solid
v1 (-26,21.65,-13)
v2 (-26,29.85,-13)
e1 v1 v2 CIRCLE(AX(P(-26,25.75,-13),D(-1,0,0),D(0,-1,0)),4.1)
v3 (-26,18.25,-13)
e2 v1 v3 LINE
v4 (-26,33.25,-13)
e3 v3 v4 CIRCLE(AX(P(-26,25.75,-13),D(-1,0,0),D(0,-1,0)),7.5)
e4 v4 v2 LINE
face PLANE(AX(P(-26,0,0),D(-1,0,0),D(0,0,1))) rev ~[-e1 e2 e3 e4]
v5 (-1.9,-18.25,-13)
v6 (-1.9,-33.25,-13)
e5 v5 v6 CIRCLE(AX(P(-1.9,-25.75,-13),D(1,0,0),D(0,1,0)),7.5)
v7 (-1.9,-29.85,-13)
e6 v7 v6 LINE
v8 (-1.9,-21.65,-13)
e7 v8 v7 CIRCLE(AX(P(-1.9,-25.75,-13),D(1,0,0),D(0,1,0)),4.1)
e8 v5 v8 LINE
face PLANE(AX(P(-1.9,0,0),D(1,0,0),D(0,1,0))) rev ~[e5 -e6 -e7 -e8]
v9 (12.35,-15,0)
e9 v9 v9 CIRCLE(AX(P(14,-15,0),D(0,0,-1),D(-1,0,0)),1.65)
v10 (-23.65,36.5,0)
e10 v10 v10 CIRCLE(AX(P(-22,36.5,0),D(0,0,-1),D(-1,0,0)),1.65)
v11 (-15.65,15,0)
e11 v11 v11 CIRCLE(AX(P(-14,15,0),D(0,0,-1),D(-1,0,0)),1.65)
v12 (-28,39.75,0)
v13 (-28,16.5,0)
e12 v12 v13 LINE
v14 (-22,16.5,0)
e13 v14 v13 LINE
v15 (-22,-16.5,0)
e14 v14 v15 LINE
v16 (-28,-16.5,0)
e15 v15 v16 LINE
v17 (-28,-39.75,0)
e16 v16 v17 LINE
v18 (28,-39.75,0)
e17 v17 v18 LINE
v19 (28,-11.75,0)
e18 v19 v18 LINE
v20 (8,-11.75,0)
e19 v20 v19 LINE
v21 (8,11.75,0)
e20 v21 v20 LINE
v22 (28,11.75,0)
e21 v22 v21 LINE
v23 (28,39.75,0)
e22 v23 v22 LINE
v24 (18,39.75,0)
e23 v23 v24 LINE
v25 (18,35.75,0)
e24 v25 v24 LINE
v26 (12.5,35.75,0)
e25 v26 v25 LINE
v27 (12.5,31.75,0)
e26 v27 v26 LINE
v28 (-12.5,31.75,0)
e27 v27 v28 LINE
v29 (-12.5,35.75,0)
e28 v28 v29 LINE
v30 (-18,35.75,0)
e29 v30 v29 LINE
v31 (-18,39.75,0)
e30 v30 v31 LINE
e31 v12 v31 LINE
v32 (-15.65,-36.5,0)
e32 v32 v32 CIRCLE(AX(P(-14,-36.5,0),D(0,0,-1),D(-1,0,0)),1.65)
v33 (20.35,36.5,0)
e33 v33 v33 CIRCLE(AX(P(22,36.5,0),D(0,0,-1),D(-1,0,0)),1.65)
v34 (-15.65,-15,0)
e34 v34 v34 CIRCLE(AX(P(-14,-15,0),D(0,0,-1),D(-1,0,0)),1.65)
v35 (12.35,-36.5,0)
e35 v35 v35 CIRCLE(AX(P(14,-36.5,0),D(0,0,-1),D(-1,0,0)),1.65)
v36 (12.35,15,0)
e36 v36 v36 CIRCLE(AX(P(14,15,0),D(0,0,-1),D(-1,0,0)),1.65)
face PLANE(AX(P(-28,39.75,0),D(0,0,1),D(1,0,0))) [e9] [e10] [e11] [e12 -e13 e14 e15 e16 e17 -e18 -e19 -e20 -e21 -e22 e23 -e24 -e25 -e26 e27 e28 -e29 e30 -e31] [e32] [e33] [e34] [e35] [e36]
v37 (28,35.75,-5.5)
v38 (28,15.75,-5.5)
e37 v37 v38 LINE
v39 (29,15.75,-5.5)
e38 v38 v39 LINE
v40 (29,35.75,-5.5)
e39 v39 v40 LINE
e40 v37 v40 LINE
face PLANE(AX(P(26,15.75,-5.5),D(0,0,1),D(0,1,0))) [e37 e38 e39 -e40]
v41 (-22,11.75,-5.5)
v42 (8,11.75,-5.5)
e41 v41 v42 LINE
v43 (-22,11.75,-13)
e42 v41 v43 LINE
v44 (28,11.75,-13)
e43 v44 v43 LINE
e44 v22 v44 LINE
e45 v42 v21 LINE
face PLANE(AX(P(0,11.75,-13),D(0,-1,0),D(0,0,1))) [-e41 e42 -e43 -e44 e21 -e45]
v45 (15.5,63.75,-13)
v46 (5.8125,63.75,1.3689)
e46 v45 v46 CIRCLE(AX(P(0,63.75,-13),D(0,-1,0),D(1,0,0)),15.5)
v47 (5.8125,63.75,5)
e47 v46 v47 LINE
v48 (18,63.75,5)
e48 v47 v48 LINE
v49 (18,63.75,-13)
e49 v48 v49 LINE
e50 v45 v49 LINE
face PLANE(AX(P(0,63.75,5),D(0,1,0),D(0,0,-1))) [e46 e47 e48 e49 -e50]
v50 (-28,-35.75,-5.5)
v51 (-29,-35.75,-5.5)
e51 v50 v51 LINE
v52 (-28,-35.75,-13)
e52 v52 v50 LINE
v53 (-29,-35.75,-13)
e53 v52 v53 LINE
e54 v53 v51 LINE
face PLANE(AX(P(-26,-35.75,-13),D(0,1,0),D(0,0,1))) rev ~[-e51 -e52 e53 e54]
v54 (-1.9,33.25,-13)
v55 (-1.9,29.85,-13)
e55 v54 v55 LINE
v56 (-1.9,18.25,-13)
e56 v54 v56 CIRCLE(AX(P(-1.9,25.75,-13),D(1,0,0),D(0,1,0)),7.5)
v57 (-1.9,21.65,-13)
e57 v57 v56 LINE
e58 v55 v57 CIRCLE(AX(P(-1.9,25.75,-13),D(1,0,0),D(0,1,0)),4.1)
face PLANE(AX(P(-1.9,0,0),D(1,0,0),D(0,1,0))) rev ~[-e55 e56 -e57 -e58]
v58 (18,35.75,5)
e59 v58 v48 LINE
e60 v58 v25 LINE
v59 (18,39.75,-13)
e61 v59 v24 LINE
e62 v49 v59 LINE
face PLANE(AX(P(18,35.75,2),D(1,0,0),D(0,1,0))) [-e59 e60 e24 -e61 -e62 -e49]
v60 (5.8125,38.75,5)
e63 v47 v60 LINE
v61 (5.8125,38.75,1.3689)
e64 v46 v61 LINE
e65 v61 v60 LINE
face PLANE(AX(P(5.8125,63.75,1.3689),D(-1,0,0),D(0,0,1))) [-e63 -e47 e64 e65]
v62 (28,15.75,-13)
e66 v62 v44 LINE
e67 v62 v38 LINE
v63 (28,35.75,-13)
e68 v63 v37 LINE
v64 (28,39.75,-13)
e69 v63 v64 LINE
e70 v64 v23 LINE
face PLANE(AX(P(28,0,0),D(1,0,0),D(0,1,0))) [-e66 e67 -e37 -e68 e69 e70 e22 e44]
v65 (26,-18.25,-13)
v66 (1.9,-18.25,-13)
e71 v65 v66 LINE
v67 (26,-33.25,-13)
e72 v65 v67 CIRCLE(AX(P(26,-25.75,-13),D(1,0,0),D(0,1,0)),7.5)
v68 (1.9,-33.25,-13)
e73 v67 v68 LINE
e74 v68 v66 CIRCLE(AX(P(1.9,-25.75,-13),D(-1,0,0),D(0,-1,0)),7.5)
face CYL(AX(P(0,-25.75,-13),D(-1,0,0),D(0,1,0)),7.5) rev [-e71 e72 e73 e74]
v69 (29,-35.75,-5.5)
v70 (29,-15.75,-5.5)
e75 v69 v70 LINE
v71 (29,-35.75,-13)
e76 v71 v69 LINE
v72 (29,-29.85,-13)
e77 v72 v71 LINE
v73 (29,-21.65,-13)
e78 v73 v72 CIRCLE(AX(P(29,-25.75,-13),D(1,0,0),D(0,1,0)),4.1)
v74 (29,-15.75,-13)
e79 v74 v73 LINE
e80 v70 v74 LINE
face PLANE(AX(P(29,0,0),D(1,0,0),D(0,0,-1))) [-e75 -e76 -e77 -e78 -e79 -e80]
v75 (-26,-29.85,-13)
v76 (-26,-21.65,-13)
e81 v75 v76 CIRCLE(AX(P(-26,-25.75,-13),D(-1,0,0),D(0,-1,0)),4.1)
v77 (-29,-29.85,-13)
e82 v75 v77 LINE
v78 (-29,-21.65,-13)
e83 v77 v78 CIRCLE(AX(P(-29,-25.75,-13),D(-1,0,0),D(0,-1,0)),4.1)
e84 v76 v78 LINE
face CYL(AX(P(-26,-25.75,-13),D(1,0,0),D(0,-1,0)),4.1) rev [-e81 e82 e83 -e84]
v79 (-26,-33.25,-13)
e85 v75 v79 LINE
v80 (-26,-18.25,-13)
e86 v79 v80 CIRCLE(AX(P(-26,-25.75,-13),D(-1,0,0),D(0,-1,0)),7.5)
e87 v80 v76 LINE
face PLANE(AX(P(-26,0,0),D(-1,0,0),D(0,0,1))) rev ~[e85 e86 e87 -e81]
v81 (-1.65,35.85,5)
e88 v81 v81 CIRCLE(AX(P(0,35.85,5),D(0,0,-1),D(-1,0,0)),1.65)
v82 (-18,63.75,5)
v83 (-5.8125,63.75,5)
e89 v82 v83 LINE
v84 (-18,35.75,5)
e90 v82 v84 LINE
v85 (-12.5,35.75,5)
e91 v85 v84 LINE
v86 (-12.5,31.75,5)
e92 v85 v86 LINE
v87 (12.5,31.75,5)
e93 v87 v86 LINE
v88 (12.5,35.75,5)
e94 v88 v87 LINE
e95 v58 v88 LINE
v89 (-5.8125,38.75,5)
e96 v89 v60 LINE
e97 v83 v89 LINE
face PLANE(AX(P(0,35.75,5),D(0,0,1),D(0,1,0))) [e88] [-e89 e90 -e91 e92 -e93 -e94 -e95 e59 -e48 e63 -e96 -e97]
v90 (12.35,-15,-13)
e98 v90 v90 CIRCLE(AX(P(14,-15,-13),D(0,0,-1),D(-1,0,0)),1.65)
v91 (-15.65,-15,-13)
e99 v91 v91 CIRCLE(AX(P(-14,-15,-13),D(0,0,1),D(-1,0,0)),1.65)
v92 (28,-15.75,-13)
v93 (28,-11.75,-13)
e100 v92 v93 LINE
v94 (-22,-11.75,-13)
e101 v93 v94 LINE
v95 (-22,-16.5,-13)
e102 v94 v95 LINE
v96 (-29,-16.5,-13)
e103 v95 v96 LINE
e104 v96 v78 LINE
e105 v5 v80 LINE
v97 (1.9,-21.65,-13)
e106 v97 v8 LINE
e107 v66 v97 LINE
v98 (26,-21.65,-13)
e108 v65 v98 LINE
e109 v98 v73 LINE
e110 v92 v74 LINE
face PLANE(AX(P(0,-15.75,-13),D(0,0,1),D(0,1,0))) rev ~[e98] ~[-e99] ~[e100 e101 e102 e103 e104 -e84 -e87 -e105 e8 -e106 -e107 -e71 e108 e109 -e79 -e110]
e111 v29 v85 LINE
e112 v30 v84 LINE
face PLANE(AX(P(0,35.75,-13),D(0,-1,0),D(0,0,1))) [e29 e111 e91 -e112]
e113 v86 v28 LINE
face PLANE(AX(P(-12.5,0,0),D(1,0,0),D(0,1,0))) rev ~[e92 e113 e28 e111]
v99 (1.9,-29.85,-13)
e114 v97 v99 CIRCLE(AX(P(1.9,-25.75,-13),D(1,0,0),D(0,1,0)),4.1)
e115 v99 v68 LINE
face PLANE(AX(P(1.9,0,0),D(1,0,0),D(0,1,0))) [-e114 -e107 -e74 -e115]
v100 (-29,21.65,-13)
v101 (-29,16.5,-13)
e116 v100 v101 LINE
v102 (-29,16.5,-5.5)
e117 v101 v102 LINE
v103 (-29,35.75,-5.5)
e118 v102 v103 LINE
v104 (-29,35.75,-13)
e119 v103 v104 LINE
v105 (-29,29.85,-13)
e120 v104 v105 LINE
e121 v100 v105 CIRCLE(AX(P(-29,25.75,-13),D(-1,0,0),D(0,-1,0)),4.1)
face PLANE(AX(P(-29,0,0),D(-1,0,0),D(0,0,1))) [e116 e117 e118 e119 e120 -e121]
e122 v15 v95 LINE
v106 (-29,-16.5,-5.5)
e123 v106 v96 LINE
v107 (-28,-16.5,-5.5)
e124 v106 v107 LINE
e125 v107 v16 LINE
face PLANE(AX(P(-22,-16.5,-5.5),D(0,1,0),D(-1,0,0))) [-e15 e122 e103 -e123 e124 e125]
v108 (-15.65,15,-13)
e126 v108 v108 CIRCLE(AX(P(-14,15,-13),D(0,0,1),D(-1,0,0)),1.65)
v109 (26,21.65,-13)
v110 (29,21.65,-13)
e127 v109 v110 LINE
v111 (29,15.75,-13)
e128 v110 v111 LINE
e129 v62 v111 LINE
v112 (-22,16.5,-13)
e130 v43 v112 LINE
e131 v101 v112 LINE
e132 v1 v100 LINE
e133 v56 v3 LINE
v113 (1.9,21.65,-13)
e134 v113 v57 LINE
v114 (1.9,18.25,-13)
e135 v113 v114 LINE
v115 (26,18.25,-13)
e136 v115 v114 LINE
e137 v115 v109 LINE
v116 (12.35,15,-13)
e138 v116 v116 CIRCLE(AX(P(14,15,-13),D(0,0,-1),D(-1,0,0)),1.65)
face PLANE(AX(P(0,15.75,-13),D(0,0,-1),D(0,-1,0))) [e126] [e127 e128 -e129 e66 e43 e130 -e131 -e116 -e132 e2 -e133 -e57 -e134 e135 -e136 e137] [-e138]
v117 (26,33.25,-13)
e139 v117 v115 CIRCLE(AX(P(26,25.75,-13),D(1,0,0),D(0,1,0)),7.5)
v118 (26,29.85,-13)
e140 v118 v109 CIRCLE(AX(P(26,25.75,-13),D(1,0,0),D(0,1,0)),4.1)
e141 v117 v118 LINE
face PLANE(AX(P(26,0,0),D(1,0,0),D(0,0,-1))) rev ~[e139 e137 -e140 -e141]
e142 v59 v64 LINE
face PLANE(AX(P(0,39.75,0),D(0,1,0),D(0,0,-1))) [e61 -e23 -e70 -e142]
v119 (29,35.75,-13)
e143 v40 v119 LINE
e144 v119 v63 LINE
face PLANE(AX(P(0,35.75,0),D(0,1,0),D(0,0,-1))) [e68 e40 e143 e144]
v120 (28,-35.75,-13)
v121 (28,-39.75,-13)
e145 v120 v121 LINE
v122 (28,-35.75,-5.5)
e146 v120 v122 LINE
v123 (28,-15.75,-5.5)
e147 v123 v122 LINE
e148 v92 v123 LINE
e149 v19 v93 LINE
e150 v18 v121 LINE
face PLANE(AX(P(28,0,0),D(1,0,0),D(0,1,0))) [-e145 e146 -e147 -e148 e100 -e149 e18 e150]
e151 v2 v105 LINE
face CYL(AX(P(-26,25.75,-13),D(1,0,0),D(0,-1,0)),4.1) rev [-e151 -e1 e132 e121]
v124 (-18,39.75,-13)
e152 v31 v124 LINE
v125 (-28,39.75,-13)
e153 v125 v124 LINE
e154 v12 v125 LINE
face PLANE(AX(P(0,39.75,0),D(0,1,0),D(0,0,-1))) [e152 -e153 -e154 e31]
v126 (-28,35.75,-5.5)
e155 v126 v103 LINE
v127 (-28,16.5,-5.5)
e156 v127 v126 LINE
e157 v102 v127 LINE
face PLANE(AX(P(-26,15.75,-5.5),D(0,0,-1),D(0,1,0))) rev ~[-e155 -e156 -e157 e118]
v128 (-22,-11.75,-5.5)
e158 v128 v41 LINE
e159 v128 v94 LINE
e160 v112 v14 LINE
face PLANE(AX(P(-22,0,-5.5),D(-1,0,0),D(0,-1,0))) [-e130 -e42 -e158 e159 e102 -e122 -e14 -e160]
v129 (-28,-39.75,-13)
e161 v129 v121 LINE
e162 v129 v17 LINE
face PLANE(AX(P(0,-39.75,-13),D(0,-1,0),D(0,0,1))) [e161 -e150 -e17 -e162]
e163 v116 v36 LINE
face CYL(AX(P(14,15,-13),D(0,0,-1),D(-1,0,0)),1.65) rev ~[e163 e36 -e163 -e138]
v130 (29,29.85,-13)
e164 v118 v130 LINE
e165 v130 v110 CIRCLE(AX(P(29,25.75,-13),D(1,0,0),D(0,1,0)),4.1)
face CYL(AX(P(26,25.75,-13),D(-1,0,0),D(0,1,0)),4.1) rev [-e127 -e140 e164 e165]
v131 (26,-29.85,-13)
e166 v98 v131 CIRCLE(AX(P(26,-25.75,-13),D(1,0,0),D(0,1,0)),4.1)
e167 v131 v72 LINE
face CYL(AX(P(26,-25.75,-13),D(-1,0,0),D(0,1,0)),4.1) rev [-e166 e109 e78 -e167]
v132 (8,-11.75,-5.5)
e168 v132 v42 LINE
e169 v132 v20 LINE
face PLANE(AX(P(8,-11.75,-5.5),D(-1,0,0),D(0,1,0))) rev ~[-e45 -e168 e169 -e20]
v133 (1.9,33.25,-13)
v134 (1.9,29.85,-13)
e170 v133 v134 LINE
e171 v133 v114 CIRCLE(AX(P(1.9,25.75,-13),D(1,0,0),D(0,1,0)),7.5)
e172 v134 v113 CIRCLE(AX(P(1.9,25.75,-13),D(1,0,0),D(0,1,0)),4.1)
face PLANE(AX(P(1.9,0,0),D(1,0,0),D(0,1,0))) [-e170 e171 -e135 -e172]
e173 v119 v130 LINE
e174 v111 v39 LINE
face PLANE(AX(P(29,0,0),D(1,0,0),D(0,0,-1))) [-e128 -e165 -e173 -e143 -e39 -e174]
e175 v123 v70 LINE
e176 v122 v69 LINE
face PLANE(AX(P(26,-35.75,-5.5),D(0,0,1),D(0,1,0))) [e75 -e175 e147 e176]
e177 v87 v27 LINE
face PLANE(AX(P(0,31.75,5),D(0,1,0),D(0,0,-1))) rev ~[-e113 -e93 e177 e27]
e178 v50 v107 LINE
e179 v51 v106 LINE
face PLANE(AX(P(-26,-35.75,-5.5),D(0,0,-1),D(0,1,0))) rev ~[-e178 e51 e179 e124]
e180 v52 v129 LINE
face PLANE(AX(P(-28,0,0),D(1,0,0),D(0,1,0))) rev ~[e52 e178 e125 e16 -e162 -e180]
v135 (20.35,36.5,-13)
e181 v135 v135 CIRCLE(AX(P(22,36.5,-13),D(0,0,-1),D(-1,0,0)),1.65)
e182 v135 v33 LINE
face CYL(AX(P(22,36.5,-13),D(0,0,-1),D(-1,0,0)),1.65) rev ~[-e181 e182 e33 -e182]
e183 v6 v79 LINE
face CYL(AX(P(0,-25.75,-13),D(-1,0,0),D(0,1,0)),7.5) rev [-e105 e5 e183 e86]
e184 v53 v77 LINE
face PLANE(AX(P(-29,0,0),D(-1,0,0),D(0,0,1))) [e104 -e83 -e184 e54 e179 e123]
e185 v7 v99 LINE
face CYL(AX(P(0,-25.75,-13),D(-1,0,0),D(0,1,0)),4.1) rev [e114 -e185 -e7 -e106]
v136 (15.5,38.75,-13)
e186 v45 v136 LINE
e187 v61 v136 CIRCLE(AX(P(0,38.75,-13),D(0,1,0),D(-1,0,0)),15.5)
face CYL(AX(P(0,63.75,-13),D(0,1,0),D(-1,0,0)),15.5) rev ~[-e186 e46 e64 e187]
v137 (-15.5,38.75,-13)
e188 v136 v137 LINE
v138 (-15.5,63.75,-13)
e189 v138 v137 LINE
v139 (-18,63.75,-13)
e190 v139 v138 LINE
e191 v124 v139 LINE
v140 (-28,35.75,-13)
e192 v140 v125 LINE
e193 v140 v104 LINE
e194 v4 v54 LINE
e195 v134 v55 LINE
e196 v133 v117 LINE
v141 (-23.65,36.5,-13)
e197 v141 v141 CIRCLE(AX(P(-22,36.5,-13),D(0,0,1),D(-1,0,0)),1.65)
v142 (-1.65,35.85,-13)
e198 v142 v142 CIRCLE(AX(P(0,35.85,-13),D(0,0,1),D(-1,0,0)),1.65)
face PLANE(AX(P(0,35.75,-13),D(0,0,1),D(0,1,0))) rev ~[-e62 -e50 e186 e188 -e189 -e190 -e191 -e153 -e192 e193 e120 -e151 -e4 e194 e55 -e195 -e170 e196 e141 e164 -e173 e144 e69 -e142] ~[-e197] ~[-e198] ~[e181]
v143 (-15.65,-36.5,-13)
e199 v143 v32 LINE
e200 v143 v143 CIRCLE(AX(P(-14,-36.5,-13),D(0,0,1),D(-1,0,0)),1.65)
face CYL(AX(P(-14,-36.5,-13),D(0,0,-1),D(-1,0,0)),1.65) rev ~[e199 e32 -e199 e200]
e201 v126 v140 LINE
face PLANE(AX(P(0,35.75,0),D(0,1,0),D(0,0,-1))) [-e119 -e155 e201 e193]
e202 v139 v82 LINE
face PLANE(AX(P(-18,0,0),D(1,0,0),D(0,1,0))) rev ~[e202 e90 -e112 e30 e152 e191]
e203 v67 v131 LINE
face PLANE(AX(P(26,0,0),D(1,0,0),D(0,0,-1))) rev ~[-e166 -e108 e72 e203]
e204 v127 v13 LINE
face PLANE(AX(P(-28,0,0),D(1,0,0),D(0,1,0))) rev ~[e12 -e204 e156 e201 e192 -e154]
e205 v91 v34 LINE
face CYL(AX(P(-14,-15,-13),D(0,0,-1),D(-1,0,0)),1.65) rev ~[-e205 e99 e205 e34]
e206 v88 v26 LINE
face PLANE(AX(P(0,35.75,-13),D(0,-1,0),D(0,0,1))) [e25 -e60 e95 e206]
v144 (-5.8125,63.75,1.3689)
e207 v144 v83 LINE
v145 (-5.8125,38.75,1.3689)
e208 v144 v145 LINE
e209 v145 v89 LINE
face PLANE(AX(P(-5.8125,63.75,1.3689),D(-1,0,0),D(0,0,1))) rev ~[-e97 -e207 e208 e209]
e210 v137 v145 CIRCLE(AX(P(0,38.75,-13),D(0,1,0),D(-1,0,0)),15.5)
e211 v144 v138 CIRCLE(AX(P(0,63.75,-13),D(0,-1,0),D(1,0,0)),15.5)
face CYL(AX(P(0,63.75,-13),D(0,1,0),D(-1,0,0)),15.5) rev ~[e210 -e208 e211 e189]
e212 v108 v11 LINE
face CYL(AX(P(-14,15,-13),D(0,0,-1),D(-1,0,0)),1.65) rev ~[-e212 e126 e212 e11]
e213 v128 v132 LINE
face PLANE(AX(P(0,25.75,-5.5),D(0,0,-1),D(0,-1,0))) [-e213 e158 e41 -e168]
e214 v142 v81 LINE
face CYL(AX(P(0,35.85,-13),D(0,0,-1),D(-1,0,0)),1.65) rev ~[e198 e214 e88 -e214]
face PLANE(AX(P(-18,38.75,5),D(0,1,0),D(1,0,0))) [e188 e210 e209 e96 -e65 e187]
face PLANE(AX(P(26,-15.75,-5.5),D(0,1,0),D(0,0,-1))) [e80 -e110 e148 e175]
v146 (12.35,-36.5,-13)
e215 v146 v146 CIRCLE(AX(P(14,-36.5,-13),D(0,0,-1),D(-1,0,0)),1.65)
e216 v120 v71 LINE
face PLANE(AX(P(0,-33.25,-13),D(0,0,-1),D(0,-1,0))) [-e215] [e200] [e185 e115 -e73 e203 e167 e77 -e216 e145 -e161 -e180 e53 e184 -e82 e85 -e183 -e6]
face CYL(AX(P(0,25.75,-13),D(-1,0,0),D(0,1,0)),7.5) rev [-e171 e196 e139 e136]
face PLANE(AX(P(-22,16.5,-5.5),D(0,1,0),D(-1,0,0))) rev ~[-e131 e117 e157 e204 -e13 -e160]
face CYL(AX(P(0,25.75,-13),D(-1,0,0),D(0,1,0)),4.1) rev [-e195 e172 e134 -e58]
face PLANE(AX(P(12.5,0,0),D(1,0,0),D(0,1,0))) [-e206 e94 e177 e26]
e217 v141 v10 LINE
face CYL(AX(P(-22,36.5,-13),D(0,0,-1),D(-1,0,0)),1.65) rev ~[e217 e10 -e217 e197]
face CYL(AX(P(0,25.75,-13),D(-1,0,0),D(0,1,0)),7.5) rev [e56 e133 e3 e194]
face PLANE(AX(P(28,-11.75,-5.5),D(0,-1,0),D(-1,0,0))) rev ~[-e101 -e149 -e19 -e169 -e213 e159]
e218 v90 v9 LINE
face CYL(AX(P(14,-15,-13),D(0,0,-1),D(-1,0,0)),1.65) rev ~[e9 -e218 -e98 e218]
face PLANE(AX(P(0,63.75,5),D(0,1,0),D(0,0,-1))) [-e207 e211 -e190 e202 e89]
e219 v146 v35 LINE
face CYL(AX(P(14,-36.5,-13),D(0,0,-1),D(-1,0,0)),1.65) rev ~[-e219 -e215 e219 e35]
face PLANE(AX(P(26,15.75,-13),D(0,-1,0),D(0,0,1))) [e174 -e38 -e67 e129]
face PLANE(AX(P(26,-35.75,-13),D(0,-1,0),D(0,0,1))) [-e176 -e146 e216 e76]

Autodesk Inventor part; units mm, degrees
ref_plane "YZ Plane" through (0, 0, 0) normal (1, 0, 0) x (0, 1, 0)
ref_plane "XZ Plane" through (0, 0, 0) normal (0, 1, 0) x (-1, 0, 0)
sketch "스케치1" plane through (0, 0, 0) normal (1, 0, 0) x (0, 1, 0)
  arc A0 (33.25, -13) -> (18.25, -13) centre (25.75, -13) ccw
  arc A1 (-18.25, -13) -> (-33.25, -13) centre (-25.75, -13) ccw
  line L0 (-37.5, 0) -> (35.75, 0)
  line L1 (33.25, -13) -> (35.75, -13)
  line L2 (18.25, -13) -> (15.75, -13)
  line L3 (15.75, -13) -> (15.75, -5.5)
  line L4 (-18.25, -13) -> (-15.75, -13)
  line L5 (-15.75, -13) -> (-15.75, -5.5)
  line L6 (-33.25, -13) -> (-35.75, -13)
  line L7 (-35.75, -13) -> (-35.75, -5.5)
  line L8 (-15.75, -13) -> (-11.75, -13)
  line L9 (-11.75, -13) -> (-11.75, -5.5)
  line L10 (-35.75, -13) -> (-39.75, -13)
  line L11 (-39.75, -13) -> (-39.75, -5.5)
  line L12 (15.75, -13) -> (11.75, -13)
  line L13 (11.75, -13) -> (11.75, -5.5)
  line L14 (35.75, -13) -> (39.75, -13)
  line L15 (25.75, -5.5) -> (15.75, -5.5)
  line L16 (35.75, -5.5) -> (25.75, -5.5)
  line L17 (15.75, -5.5) -> (11.75, -5.5)
  line L18 (11.75, -5.5) -> (-11.75, -5.5)
  line L19 (-15.75, -5.5) -> (-25.75, -5.5)
  line L20 (-35.75, -5.5) -> (-25.75, -5.5)
  line L21 (-11.75, -5.5) -> (-15.75, -5.5)
  arc A2 (29.85, -13) -> (21.65, -13) centre (25.75, -13) ccw
  line L22 (33.25, -13) -> (29.85, -13)
  line L23 (21.65, -13) -> (18.25, -13)
  arc A3 (-21.65, -13) -> (-29.85, -13) centre (-25.75, -13) ccw
  line L24 (-18.25, -13) -> (-21.65, -13)
  line L25 (-29.85, -13) -> (-33.25, -13)
  line L26 (29.85, -13) -> (21.65, -13)
  line L27 (-21.65, -13) -> (-29.85, -13)
  line L28 (35.75, 2) -> (60.75, 2)
  line L29 (60.75, 2) -> (60.75, -13)
  line L30 (35.75, 2) -> (35.75, 0)
  line L31 (35.75, 2) -> (35.75, 5)
  line L32 (35.75, 5) -> (60.75, 5)
  line L33 (60.75, 5) -> (63.75, 5)
  line L34 (63.75, 5) -> (63.75, 2)
  line L35 (63.75, 2) -> (63.75, -13)
  line L36 (63.75, -13) -> (60.75, -13)
  line L37 (-37.5, 0) -> (-39.75, 0)
  line L38 (-39.75, 0) -> (-39.75, -5.5)
  line L39 (-35.75, -5.5) -> (-35.75, 0)
  line L40 (39.75, 0) -> (39.75, -13)
  line L41 (35.75, 0) -> (35.75, -5.5)
  line L42 (35.75, -13) -> (35.75, -5.5)
  line L43 (39.75, 0) -> (39.75, 2)
  line L44 (60.75, -13) -> (39.75, -13)
  line L45 (35.75, 5) -> (31.75, 5)
  line L46 (31.75, 5) -> (31.75, 0)
  line L47 (39.75, 0) -> (35.75, 0)
  point P0 (0, 0)
  dimension "d1" = 37.5
  dimension "d8" = 2.5
  dimension "d10" = 2.5
  dimension "d11" = 4
  dimension "d12" = 4
  dimension "d13" = 4
  dimension "d28" = 8.2
  dimension "d29" = 8.2
  dimension "d37" = 25
  dimension "d38" = 3
  dimension "d39" = 3
  dimension "d81" = 4
extrude "돌출1" add sketch "스케치1" along normal mid plane 56 contours L15 L17 L18 L21 L19 L20 L39 L0 L41 L16
extrude "돌출3" add sketch "스케치1" along normal mid plane 56 contours L3 L12 L13 L17 | L9 L8 L5 L21
extrude "돌출4" add sketch "스케치1" along normal mid plane 56 contours L15 L17 L18 L21 L19 L20 L39 L0 L41 L16 | L39 L7 L10 L11 L38 L37 L0
extrude "돌출5" add sketch "스케치1" along normal mid plane 52 contours A0 L16 L42 L1 | A0 L2 L3 L15 | L5 L4 A1 L19 | A1 L6 L7 L20
extrude "돌출6" add sketch "스케치1" along normal mid plane 3.8 contours L22 A2 L23 A0 | A1 L24 A3 L25
sketch "스케치3" plane through (26, 0, 0) normal (1, 0, 0) x (0, 0, -1)
  line L0 (5.5, 15.75) -> (5.5, 35.75) projected
  line L1 (13, 11.75) -> (13, 15.75) projected
  line L2 (5.5, 35.75) -> (13, 35.75)
  line L3 (13, 15.75) -> (5.5, 15.75)
  line L4 (5.5, 15.75) -> (5.5, 35.75)
  line L5 (13, 18.25) -> (13, 21.65) projected
  arc A0 (13, 29.85) -> (13, 21.65) centre (13, 25.75) ccw
  line L6 (13, 35.75) -> (13, 29.85)
  line L7 (13, 21.65) -> (13, 15.75)
  line L8 (5.5, -15.75) -> (13, -15.75) projected
  line L9 (13, -35.75) -> (13, -39.75) projected
  line L10 (5.5, -15.75) -> (13, -15.75)
  line L11 (13, -35.75) -> (5.5, -35.75)
  line L12 (5.5, -35.75) -> (5.5, -15.75)
  line L13 (13, -33.25) -> (13, -29.85) projected
  arc A1 (13, -21.65) -> (13, -29.85) centre (13, -25.75) ccw
  line L14 (13, -15.75) -> (13, -21.65)
  line L15 (13, -29.85) -> (13, -35.75)
  point P0 (0, 0)
extrude "돌출8" add sketch "스케치3" along normal blind 3
sketch "스케치4" plane through (-26, 0, 0) normal (-1, 0, 0) x (0, 0, 1)
  line L0 (-13, -33.25) -> (-13, -35.75) projected
  line L1 (-5.5, -15.75) -> (-13, -15.75)
  line L2 (-13, -15.75) -> (-13, -35.75)
  line L3 (-13, -35.75) -> (-5.5, -35.75)
  line L4 (-5.5, -35.75) -> (-5.5, -15.75)
  line L5 (-13, 11.75) -> (-13, 15.75) projected
  line L6 (-5.5, 35.75) -> (0, 35.75) projected
  line L7 (-13, 15.75) -> (-5.5, 15.75)
  line L8 (-5.5, 15.75) -> (-5.5, 35.75)
  line L9 (-5.5, 35.75) -> (-13, 35.75)
  arc A0 (-13, -29.85) -> (-13, -21.65) centre (-13, -25.75) ccw
  arc A1 (-13, 21.65) -> (-13, 29.85) centre (-13, 25.75) ccw
  line L10 (-13, 35.75) -> (-13, 29.85)
  line L11 (-13, 21.65) -> (-13, 15.75)
  point P0 (0, 0)
extrude "돌출9" add sketch "스케치4" along normal blind 3 contours L2 A0 L1 L4 L3 L0 | L11 A1 L10 L9 L8 L7
extrude "돌출10" add sketch "스케치1" along normal mid plane 36 contours A0 L16 L42 L1 | L29 L28 L31 L32 L33 L34 L35 L36
sketch "스케치5" plane through (-18, 63.75, 5) normal (0, 1, 0) x (1, 0, 0)
  line L0 (0, 18) -> (36, 18) projected
  arc A0 (2.5, 18) -> (33.5, 18) centre (18, 18) ccw
  line L1 (18, 18) -> (2.5, 18)
  line L2 (-10, 18) -> (46, 18) projected
  line L3 (18, 18) -> (33.5, 18)
  line L4 (-10, 5) -> (46, 5) projected
  line L5 (23.8125, 3.6311) -> (23.8125, 0)
  line L6 (23.8125, 3.6311) -> (12.1875, 3.6311)
  line L7 (12.1875, 0) -> (23.8125, 0)
  line L8 (12.1875, 3.6311) -> (12.1875, 0)
  point P0 (18, 5)
  dimension "d43" = 31
sketch "스케치6" plane through (28, 11.75, -13) normal (0, 0, -1) x (-1, 0, 0)
  line L0 (28, 0) -> (28, 3.25)
  line L1 (28, 3.25) -> (14, 3.25)
  line L2 (28, 3.25) -> (42, 3.25)
  circle A0 centre (42, 3.25) radius 1.65
  circle A1 centre (14, 3.25) radius 1.65
  line L3 (28, 24.75) -> (6, 24.75)
  line L4 (28, 24.75) -> (50, 24.75)
  circle A2 centre (6, 24.75) radius 1.65
  circle A3 centre (50, 24.75) radius 1.65
  line L5 (28, 21.5) -> (28, 24.1)
  circle A4 centre (28, 24.1) radius 1.65
  line L6 (0, -23.5) -> (56, -23.5) projected
  line L7 (28, -23.5) -> (28, -26.75)
  line L8 (28, -26.75) -> (42, -26.75)
  line L9 (28, -26.75) -> (14, -26.75)
  line L10 (56, -51.5) -> (0, -51.5) projected
  line L11 (28, -51.5) -> (28, -48.25)
  line L12 (28, -48.25) -> (42, -48.25)
  line L13 (28, -48.25) -> (14, -48.25)
  circle A5 centre (14, -26.75) radius 1.65
  circle A6 centre (42, -26.75) radius 1.65
  circle A7 centre (42, -48.25) radius 1.65
  circle A8 centre (14, -48.25) radius 1.65
  point P0 (28, -11.75)
  dimension "d46" = 3.25
  dimension "d47" = 14
  dimension "d48" = 14
  dimension "d54" = 3.3
  dimension "d55" = 3.3
  dimension "d58" = 22
  dimension "d59" = 3.3
  dimension "d60" = 3.3
  dimension "d61" = 2.6
  dimension "d62" = 3.3
  dimension "d63" = 3.25
  dimension "d64" = 14
  dimension "d65" = 14
  dimension "d66" = 3.25
  dimension "d67" = 14
  dimension "d68" = 14
  dimension "d69" = 3.3
  dimension "d70" = 3.3
  dimension "d71" = 3.3
  dimension "d72" = 3.3
extrude "돌출13" add sketch "스케치1" along normal mid plane 56 contours L42 L41 L47 L40 L14 | L30 L28 L43 L47
extrude "돌출14" add sketch "스케치1" along normal mid plane 36 contours L40 L43 L28 L29 L44
extrude "돌출15" cut sketch "스케치5" against normal blind 25 contours L0 A0 L4 | L4 A0 L6 | L6 A0
extrude "돌출16" add sketch "스케치1" along normal mid plane 25 contours L0 L46 L45 L31 L30
extrude "돌출17" cut sketch "스케치6" against normal blind 20
sketch "스케치7" plane through (-28, 39.75, 2) normal (0, 0, 1) x (1, 0, 0)
  line L0 (0, -79.5) -> (0, -4) projected
  line L1 (0, 0) -> (10, 0) projected
  line L2 (0, -4) -> (10, -4)
  line L3 (10, -4) -> (10, 0)
  line L4 (10, 0) -> (0, 0)
  line L5 (0, 0) -> (0, -4)
  line L6 (46, -4) -> (46, 0) projected
  line L7 (46, -4) -> (56, -4)
  line L8 (56, -4) -> (56, 0)
  line L9 (56, 0) -> (46, 0)
  line L10 (46, 0) -> (46, -4)
  point P0 (28, -39.75)
extrude "돌출18" cut sketch "스케치7" against normal blind 2
sketch "스케치8" plane through (28, 11.75, -5.5) normal (0, 0, -1) x (-1, 0, 0)
  line L0 (0, -23.5) -> (56, -23.5) projected
  line L1 (46, -23.5) -> (41, -23.5)
  line L2 (56, -23.5) -> (0, -23.5) projected
  line L3 (0, -23.5) -> (6, -23.5)
  line L4 (6, -23.5) -> (6, 0)
  line L5 (0, -23.5) -> (0, 0) projected
  line L6 (0, 0) -> (0, -23.5)
  line L7 (0, 0) -> (6, 0)
  line L8 (6, -1.75) -> (0, -1.75)
  line L9 (6, -8.25) -> (0, -8.25)
  line L10 (6, -15.25) -> (0, -15.25)
  line L11 (6, -21.75) -> (0, -21.75)
  line L12 (57, -11.75) -> (50, -11.75)
  line L13 (50, -11.75) -> (50, 4.75)
  line L14 (50, 4.75) -> (57, 4.75)
  line L15 (50, 4.75) -> (57, 4.75)
  line L16 (57, -11.75) -> (57, 4.75)
  line L17 (50, -11.75) -> (50, -28.25)
  line L18 (50, -28.25) -> (57, -28.25)
  line L19 (57, -11.75) -> (57, -28.25)
  line L20 (56, 0) -> (56, -23.5) projected
  point P0 (28, -11.75)
  dimension "d115" = 6
  dimension "d147" = 7
  dimension "d148" = 16.5
  dimension "d149" = 16.5
ref_plane "작업 평면3" through (28, 11.75, -13) normal (0, 0, -1) x (-1, 0, 0)
extrude "돌출28" cut sketch "스케치5" against normal blind 25 contours A0 L5 L7 L8
extrude "돌출29" cut sketch "스케치8" along normal mid plane 20 contours L17 L12 L20 L0 | L0 L20 L12 L19 L18 L17 | L13 L14 L16 L12
sketch "스케치15" plane through (28, -11.75, -5.5) normal (0, 0, -1) x (-1, 0, 0)
  line L0 (0, -4) -> (0, 0) projected
  line L1 (50, 23.5) -> (0, 23.5) projected
  line L2 (0, 0) -> (20, 0)
  line L3 (20, 0) -> (20, 23.5)
  line L4 (20, 23.5) -> (0, 23.5)
  line L5 (0, 23.5) -> (0, 0)
  point P0 (28, 11.75)
  dimension "d152" = 20
extrude "돌출30" cut sketch "스케치15" against normal blind 10
properties part number "x 캐리지"
